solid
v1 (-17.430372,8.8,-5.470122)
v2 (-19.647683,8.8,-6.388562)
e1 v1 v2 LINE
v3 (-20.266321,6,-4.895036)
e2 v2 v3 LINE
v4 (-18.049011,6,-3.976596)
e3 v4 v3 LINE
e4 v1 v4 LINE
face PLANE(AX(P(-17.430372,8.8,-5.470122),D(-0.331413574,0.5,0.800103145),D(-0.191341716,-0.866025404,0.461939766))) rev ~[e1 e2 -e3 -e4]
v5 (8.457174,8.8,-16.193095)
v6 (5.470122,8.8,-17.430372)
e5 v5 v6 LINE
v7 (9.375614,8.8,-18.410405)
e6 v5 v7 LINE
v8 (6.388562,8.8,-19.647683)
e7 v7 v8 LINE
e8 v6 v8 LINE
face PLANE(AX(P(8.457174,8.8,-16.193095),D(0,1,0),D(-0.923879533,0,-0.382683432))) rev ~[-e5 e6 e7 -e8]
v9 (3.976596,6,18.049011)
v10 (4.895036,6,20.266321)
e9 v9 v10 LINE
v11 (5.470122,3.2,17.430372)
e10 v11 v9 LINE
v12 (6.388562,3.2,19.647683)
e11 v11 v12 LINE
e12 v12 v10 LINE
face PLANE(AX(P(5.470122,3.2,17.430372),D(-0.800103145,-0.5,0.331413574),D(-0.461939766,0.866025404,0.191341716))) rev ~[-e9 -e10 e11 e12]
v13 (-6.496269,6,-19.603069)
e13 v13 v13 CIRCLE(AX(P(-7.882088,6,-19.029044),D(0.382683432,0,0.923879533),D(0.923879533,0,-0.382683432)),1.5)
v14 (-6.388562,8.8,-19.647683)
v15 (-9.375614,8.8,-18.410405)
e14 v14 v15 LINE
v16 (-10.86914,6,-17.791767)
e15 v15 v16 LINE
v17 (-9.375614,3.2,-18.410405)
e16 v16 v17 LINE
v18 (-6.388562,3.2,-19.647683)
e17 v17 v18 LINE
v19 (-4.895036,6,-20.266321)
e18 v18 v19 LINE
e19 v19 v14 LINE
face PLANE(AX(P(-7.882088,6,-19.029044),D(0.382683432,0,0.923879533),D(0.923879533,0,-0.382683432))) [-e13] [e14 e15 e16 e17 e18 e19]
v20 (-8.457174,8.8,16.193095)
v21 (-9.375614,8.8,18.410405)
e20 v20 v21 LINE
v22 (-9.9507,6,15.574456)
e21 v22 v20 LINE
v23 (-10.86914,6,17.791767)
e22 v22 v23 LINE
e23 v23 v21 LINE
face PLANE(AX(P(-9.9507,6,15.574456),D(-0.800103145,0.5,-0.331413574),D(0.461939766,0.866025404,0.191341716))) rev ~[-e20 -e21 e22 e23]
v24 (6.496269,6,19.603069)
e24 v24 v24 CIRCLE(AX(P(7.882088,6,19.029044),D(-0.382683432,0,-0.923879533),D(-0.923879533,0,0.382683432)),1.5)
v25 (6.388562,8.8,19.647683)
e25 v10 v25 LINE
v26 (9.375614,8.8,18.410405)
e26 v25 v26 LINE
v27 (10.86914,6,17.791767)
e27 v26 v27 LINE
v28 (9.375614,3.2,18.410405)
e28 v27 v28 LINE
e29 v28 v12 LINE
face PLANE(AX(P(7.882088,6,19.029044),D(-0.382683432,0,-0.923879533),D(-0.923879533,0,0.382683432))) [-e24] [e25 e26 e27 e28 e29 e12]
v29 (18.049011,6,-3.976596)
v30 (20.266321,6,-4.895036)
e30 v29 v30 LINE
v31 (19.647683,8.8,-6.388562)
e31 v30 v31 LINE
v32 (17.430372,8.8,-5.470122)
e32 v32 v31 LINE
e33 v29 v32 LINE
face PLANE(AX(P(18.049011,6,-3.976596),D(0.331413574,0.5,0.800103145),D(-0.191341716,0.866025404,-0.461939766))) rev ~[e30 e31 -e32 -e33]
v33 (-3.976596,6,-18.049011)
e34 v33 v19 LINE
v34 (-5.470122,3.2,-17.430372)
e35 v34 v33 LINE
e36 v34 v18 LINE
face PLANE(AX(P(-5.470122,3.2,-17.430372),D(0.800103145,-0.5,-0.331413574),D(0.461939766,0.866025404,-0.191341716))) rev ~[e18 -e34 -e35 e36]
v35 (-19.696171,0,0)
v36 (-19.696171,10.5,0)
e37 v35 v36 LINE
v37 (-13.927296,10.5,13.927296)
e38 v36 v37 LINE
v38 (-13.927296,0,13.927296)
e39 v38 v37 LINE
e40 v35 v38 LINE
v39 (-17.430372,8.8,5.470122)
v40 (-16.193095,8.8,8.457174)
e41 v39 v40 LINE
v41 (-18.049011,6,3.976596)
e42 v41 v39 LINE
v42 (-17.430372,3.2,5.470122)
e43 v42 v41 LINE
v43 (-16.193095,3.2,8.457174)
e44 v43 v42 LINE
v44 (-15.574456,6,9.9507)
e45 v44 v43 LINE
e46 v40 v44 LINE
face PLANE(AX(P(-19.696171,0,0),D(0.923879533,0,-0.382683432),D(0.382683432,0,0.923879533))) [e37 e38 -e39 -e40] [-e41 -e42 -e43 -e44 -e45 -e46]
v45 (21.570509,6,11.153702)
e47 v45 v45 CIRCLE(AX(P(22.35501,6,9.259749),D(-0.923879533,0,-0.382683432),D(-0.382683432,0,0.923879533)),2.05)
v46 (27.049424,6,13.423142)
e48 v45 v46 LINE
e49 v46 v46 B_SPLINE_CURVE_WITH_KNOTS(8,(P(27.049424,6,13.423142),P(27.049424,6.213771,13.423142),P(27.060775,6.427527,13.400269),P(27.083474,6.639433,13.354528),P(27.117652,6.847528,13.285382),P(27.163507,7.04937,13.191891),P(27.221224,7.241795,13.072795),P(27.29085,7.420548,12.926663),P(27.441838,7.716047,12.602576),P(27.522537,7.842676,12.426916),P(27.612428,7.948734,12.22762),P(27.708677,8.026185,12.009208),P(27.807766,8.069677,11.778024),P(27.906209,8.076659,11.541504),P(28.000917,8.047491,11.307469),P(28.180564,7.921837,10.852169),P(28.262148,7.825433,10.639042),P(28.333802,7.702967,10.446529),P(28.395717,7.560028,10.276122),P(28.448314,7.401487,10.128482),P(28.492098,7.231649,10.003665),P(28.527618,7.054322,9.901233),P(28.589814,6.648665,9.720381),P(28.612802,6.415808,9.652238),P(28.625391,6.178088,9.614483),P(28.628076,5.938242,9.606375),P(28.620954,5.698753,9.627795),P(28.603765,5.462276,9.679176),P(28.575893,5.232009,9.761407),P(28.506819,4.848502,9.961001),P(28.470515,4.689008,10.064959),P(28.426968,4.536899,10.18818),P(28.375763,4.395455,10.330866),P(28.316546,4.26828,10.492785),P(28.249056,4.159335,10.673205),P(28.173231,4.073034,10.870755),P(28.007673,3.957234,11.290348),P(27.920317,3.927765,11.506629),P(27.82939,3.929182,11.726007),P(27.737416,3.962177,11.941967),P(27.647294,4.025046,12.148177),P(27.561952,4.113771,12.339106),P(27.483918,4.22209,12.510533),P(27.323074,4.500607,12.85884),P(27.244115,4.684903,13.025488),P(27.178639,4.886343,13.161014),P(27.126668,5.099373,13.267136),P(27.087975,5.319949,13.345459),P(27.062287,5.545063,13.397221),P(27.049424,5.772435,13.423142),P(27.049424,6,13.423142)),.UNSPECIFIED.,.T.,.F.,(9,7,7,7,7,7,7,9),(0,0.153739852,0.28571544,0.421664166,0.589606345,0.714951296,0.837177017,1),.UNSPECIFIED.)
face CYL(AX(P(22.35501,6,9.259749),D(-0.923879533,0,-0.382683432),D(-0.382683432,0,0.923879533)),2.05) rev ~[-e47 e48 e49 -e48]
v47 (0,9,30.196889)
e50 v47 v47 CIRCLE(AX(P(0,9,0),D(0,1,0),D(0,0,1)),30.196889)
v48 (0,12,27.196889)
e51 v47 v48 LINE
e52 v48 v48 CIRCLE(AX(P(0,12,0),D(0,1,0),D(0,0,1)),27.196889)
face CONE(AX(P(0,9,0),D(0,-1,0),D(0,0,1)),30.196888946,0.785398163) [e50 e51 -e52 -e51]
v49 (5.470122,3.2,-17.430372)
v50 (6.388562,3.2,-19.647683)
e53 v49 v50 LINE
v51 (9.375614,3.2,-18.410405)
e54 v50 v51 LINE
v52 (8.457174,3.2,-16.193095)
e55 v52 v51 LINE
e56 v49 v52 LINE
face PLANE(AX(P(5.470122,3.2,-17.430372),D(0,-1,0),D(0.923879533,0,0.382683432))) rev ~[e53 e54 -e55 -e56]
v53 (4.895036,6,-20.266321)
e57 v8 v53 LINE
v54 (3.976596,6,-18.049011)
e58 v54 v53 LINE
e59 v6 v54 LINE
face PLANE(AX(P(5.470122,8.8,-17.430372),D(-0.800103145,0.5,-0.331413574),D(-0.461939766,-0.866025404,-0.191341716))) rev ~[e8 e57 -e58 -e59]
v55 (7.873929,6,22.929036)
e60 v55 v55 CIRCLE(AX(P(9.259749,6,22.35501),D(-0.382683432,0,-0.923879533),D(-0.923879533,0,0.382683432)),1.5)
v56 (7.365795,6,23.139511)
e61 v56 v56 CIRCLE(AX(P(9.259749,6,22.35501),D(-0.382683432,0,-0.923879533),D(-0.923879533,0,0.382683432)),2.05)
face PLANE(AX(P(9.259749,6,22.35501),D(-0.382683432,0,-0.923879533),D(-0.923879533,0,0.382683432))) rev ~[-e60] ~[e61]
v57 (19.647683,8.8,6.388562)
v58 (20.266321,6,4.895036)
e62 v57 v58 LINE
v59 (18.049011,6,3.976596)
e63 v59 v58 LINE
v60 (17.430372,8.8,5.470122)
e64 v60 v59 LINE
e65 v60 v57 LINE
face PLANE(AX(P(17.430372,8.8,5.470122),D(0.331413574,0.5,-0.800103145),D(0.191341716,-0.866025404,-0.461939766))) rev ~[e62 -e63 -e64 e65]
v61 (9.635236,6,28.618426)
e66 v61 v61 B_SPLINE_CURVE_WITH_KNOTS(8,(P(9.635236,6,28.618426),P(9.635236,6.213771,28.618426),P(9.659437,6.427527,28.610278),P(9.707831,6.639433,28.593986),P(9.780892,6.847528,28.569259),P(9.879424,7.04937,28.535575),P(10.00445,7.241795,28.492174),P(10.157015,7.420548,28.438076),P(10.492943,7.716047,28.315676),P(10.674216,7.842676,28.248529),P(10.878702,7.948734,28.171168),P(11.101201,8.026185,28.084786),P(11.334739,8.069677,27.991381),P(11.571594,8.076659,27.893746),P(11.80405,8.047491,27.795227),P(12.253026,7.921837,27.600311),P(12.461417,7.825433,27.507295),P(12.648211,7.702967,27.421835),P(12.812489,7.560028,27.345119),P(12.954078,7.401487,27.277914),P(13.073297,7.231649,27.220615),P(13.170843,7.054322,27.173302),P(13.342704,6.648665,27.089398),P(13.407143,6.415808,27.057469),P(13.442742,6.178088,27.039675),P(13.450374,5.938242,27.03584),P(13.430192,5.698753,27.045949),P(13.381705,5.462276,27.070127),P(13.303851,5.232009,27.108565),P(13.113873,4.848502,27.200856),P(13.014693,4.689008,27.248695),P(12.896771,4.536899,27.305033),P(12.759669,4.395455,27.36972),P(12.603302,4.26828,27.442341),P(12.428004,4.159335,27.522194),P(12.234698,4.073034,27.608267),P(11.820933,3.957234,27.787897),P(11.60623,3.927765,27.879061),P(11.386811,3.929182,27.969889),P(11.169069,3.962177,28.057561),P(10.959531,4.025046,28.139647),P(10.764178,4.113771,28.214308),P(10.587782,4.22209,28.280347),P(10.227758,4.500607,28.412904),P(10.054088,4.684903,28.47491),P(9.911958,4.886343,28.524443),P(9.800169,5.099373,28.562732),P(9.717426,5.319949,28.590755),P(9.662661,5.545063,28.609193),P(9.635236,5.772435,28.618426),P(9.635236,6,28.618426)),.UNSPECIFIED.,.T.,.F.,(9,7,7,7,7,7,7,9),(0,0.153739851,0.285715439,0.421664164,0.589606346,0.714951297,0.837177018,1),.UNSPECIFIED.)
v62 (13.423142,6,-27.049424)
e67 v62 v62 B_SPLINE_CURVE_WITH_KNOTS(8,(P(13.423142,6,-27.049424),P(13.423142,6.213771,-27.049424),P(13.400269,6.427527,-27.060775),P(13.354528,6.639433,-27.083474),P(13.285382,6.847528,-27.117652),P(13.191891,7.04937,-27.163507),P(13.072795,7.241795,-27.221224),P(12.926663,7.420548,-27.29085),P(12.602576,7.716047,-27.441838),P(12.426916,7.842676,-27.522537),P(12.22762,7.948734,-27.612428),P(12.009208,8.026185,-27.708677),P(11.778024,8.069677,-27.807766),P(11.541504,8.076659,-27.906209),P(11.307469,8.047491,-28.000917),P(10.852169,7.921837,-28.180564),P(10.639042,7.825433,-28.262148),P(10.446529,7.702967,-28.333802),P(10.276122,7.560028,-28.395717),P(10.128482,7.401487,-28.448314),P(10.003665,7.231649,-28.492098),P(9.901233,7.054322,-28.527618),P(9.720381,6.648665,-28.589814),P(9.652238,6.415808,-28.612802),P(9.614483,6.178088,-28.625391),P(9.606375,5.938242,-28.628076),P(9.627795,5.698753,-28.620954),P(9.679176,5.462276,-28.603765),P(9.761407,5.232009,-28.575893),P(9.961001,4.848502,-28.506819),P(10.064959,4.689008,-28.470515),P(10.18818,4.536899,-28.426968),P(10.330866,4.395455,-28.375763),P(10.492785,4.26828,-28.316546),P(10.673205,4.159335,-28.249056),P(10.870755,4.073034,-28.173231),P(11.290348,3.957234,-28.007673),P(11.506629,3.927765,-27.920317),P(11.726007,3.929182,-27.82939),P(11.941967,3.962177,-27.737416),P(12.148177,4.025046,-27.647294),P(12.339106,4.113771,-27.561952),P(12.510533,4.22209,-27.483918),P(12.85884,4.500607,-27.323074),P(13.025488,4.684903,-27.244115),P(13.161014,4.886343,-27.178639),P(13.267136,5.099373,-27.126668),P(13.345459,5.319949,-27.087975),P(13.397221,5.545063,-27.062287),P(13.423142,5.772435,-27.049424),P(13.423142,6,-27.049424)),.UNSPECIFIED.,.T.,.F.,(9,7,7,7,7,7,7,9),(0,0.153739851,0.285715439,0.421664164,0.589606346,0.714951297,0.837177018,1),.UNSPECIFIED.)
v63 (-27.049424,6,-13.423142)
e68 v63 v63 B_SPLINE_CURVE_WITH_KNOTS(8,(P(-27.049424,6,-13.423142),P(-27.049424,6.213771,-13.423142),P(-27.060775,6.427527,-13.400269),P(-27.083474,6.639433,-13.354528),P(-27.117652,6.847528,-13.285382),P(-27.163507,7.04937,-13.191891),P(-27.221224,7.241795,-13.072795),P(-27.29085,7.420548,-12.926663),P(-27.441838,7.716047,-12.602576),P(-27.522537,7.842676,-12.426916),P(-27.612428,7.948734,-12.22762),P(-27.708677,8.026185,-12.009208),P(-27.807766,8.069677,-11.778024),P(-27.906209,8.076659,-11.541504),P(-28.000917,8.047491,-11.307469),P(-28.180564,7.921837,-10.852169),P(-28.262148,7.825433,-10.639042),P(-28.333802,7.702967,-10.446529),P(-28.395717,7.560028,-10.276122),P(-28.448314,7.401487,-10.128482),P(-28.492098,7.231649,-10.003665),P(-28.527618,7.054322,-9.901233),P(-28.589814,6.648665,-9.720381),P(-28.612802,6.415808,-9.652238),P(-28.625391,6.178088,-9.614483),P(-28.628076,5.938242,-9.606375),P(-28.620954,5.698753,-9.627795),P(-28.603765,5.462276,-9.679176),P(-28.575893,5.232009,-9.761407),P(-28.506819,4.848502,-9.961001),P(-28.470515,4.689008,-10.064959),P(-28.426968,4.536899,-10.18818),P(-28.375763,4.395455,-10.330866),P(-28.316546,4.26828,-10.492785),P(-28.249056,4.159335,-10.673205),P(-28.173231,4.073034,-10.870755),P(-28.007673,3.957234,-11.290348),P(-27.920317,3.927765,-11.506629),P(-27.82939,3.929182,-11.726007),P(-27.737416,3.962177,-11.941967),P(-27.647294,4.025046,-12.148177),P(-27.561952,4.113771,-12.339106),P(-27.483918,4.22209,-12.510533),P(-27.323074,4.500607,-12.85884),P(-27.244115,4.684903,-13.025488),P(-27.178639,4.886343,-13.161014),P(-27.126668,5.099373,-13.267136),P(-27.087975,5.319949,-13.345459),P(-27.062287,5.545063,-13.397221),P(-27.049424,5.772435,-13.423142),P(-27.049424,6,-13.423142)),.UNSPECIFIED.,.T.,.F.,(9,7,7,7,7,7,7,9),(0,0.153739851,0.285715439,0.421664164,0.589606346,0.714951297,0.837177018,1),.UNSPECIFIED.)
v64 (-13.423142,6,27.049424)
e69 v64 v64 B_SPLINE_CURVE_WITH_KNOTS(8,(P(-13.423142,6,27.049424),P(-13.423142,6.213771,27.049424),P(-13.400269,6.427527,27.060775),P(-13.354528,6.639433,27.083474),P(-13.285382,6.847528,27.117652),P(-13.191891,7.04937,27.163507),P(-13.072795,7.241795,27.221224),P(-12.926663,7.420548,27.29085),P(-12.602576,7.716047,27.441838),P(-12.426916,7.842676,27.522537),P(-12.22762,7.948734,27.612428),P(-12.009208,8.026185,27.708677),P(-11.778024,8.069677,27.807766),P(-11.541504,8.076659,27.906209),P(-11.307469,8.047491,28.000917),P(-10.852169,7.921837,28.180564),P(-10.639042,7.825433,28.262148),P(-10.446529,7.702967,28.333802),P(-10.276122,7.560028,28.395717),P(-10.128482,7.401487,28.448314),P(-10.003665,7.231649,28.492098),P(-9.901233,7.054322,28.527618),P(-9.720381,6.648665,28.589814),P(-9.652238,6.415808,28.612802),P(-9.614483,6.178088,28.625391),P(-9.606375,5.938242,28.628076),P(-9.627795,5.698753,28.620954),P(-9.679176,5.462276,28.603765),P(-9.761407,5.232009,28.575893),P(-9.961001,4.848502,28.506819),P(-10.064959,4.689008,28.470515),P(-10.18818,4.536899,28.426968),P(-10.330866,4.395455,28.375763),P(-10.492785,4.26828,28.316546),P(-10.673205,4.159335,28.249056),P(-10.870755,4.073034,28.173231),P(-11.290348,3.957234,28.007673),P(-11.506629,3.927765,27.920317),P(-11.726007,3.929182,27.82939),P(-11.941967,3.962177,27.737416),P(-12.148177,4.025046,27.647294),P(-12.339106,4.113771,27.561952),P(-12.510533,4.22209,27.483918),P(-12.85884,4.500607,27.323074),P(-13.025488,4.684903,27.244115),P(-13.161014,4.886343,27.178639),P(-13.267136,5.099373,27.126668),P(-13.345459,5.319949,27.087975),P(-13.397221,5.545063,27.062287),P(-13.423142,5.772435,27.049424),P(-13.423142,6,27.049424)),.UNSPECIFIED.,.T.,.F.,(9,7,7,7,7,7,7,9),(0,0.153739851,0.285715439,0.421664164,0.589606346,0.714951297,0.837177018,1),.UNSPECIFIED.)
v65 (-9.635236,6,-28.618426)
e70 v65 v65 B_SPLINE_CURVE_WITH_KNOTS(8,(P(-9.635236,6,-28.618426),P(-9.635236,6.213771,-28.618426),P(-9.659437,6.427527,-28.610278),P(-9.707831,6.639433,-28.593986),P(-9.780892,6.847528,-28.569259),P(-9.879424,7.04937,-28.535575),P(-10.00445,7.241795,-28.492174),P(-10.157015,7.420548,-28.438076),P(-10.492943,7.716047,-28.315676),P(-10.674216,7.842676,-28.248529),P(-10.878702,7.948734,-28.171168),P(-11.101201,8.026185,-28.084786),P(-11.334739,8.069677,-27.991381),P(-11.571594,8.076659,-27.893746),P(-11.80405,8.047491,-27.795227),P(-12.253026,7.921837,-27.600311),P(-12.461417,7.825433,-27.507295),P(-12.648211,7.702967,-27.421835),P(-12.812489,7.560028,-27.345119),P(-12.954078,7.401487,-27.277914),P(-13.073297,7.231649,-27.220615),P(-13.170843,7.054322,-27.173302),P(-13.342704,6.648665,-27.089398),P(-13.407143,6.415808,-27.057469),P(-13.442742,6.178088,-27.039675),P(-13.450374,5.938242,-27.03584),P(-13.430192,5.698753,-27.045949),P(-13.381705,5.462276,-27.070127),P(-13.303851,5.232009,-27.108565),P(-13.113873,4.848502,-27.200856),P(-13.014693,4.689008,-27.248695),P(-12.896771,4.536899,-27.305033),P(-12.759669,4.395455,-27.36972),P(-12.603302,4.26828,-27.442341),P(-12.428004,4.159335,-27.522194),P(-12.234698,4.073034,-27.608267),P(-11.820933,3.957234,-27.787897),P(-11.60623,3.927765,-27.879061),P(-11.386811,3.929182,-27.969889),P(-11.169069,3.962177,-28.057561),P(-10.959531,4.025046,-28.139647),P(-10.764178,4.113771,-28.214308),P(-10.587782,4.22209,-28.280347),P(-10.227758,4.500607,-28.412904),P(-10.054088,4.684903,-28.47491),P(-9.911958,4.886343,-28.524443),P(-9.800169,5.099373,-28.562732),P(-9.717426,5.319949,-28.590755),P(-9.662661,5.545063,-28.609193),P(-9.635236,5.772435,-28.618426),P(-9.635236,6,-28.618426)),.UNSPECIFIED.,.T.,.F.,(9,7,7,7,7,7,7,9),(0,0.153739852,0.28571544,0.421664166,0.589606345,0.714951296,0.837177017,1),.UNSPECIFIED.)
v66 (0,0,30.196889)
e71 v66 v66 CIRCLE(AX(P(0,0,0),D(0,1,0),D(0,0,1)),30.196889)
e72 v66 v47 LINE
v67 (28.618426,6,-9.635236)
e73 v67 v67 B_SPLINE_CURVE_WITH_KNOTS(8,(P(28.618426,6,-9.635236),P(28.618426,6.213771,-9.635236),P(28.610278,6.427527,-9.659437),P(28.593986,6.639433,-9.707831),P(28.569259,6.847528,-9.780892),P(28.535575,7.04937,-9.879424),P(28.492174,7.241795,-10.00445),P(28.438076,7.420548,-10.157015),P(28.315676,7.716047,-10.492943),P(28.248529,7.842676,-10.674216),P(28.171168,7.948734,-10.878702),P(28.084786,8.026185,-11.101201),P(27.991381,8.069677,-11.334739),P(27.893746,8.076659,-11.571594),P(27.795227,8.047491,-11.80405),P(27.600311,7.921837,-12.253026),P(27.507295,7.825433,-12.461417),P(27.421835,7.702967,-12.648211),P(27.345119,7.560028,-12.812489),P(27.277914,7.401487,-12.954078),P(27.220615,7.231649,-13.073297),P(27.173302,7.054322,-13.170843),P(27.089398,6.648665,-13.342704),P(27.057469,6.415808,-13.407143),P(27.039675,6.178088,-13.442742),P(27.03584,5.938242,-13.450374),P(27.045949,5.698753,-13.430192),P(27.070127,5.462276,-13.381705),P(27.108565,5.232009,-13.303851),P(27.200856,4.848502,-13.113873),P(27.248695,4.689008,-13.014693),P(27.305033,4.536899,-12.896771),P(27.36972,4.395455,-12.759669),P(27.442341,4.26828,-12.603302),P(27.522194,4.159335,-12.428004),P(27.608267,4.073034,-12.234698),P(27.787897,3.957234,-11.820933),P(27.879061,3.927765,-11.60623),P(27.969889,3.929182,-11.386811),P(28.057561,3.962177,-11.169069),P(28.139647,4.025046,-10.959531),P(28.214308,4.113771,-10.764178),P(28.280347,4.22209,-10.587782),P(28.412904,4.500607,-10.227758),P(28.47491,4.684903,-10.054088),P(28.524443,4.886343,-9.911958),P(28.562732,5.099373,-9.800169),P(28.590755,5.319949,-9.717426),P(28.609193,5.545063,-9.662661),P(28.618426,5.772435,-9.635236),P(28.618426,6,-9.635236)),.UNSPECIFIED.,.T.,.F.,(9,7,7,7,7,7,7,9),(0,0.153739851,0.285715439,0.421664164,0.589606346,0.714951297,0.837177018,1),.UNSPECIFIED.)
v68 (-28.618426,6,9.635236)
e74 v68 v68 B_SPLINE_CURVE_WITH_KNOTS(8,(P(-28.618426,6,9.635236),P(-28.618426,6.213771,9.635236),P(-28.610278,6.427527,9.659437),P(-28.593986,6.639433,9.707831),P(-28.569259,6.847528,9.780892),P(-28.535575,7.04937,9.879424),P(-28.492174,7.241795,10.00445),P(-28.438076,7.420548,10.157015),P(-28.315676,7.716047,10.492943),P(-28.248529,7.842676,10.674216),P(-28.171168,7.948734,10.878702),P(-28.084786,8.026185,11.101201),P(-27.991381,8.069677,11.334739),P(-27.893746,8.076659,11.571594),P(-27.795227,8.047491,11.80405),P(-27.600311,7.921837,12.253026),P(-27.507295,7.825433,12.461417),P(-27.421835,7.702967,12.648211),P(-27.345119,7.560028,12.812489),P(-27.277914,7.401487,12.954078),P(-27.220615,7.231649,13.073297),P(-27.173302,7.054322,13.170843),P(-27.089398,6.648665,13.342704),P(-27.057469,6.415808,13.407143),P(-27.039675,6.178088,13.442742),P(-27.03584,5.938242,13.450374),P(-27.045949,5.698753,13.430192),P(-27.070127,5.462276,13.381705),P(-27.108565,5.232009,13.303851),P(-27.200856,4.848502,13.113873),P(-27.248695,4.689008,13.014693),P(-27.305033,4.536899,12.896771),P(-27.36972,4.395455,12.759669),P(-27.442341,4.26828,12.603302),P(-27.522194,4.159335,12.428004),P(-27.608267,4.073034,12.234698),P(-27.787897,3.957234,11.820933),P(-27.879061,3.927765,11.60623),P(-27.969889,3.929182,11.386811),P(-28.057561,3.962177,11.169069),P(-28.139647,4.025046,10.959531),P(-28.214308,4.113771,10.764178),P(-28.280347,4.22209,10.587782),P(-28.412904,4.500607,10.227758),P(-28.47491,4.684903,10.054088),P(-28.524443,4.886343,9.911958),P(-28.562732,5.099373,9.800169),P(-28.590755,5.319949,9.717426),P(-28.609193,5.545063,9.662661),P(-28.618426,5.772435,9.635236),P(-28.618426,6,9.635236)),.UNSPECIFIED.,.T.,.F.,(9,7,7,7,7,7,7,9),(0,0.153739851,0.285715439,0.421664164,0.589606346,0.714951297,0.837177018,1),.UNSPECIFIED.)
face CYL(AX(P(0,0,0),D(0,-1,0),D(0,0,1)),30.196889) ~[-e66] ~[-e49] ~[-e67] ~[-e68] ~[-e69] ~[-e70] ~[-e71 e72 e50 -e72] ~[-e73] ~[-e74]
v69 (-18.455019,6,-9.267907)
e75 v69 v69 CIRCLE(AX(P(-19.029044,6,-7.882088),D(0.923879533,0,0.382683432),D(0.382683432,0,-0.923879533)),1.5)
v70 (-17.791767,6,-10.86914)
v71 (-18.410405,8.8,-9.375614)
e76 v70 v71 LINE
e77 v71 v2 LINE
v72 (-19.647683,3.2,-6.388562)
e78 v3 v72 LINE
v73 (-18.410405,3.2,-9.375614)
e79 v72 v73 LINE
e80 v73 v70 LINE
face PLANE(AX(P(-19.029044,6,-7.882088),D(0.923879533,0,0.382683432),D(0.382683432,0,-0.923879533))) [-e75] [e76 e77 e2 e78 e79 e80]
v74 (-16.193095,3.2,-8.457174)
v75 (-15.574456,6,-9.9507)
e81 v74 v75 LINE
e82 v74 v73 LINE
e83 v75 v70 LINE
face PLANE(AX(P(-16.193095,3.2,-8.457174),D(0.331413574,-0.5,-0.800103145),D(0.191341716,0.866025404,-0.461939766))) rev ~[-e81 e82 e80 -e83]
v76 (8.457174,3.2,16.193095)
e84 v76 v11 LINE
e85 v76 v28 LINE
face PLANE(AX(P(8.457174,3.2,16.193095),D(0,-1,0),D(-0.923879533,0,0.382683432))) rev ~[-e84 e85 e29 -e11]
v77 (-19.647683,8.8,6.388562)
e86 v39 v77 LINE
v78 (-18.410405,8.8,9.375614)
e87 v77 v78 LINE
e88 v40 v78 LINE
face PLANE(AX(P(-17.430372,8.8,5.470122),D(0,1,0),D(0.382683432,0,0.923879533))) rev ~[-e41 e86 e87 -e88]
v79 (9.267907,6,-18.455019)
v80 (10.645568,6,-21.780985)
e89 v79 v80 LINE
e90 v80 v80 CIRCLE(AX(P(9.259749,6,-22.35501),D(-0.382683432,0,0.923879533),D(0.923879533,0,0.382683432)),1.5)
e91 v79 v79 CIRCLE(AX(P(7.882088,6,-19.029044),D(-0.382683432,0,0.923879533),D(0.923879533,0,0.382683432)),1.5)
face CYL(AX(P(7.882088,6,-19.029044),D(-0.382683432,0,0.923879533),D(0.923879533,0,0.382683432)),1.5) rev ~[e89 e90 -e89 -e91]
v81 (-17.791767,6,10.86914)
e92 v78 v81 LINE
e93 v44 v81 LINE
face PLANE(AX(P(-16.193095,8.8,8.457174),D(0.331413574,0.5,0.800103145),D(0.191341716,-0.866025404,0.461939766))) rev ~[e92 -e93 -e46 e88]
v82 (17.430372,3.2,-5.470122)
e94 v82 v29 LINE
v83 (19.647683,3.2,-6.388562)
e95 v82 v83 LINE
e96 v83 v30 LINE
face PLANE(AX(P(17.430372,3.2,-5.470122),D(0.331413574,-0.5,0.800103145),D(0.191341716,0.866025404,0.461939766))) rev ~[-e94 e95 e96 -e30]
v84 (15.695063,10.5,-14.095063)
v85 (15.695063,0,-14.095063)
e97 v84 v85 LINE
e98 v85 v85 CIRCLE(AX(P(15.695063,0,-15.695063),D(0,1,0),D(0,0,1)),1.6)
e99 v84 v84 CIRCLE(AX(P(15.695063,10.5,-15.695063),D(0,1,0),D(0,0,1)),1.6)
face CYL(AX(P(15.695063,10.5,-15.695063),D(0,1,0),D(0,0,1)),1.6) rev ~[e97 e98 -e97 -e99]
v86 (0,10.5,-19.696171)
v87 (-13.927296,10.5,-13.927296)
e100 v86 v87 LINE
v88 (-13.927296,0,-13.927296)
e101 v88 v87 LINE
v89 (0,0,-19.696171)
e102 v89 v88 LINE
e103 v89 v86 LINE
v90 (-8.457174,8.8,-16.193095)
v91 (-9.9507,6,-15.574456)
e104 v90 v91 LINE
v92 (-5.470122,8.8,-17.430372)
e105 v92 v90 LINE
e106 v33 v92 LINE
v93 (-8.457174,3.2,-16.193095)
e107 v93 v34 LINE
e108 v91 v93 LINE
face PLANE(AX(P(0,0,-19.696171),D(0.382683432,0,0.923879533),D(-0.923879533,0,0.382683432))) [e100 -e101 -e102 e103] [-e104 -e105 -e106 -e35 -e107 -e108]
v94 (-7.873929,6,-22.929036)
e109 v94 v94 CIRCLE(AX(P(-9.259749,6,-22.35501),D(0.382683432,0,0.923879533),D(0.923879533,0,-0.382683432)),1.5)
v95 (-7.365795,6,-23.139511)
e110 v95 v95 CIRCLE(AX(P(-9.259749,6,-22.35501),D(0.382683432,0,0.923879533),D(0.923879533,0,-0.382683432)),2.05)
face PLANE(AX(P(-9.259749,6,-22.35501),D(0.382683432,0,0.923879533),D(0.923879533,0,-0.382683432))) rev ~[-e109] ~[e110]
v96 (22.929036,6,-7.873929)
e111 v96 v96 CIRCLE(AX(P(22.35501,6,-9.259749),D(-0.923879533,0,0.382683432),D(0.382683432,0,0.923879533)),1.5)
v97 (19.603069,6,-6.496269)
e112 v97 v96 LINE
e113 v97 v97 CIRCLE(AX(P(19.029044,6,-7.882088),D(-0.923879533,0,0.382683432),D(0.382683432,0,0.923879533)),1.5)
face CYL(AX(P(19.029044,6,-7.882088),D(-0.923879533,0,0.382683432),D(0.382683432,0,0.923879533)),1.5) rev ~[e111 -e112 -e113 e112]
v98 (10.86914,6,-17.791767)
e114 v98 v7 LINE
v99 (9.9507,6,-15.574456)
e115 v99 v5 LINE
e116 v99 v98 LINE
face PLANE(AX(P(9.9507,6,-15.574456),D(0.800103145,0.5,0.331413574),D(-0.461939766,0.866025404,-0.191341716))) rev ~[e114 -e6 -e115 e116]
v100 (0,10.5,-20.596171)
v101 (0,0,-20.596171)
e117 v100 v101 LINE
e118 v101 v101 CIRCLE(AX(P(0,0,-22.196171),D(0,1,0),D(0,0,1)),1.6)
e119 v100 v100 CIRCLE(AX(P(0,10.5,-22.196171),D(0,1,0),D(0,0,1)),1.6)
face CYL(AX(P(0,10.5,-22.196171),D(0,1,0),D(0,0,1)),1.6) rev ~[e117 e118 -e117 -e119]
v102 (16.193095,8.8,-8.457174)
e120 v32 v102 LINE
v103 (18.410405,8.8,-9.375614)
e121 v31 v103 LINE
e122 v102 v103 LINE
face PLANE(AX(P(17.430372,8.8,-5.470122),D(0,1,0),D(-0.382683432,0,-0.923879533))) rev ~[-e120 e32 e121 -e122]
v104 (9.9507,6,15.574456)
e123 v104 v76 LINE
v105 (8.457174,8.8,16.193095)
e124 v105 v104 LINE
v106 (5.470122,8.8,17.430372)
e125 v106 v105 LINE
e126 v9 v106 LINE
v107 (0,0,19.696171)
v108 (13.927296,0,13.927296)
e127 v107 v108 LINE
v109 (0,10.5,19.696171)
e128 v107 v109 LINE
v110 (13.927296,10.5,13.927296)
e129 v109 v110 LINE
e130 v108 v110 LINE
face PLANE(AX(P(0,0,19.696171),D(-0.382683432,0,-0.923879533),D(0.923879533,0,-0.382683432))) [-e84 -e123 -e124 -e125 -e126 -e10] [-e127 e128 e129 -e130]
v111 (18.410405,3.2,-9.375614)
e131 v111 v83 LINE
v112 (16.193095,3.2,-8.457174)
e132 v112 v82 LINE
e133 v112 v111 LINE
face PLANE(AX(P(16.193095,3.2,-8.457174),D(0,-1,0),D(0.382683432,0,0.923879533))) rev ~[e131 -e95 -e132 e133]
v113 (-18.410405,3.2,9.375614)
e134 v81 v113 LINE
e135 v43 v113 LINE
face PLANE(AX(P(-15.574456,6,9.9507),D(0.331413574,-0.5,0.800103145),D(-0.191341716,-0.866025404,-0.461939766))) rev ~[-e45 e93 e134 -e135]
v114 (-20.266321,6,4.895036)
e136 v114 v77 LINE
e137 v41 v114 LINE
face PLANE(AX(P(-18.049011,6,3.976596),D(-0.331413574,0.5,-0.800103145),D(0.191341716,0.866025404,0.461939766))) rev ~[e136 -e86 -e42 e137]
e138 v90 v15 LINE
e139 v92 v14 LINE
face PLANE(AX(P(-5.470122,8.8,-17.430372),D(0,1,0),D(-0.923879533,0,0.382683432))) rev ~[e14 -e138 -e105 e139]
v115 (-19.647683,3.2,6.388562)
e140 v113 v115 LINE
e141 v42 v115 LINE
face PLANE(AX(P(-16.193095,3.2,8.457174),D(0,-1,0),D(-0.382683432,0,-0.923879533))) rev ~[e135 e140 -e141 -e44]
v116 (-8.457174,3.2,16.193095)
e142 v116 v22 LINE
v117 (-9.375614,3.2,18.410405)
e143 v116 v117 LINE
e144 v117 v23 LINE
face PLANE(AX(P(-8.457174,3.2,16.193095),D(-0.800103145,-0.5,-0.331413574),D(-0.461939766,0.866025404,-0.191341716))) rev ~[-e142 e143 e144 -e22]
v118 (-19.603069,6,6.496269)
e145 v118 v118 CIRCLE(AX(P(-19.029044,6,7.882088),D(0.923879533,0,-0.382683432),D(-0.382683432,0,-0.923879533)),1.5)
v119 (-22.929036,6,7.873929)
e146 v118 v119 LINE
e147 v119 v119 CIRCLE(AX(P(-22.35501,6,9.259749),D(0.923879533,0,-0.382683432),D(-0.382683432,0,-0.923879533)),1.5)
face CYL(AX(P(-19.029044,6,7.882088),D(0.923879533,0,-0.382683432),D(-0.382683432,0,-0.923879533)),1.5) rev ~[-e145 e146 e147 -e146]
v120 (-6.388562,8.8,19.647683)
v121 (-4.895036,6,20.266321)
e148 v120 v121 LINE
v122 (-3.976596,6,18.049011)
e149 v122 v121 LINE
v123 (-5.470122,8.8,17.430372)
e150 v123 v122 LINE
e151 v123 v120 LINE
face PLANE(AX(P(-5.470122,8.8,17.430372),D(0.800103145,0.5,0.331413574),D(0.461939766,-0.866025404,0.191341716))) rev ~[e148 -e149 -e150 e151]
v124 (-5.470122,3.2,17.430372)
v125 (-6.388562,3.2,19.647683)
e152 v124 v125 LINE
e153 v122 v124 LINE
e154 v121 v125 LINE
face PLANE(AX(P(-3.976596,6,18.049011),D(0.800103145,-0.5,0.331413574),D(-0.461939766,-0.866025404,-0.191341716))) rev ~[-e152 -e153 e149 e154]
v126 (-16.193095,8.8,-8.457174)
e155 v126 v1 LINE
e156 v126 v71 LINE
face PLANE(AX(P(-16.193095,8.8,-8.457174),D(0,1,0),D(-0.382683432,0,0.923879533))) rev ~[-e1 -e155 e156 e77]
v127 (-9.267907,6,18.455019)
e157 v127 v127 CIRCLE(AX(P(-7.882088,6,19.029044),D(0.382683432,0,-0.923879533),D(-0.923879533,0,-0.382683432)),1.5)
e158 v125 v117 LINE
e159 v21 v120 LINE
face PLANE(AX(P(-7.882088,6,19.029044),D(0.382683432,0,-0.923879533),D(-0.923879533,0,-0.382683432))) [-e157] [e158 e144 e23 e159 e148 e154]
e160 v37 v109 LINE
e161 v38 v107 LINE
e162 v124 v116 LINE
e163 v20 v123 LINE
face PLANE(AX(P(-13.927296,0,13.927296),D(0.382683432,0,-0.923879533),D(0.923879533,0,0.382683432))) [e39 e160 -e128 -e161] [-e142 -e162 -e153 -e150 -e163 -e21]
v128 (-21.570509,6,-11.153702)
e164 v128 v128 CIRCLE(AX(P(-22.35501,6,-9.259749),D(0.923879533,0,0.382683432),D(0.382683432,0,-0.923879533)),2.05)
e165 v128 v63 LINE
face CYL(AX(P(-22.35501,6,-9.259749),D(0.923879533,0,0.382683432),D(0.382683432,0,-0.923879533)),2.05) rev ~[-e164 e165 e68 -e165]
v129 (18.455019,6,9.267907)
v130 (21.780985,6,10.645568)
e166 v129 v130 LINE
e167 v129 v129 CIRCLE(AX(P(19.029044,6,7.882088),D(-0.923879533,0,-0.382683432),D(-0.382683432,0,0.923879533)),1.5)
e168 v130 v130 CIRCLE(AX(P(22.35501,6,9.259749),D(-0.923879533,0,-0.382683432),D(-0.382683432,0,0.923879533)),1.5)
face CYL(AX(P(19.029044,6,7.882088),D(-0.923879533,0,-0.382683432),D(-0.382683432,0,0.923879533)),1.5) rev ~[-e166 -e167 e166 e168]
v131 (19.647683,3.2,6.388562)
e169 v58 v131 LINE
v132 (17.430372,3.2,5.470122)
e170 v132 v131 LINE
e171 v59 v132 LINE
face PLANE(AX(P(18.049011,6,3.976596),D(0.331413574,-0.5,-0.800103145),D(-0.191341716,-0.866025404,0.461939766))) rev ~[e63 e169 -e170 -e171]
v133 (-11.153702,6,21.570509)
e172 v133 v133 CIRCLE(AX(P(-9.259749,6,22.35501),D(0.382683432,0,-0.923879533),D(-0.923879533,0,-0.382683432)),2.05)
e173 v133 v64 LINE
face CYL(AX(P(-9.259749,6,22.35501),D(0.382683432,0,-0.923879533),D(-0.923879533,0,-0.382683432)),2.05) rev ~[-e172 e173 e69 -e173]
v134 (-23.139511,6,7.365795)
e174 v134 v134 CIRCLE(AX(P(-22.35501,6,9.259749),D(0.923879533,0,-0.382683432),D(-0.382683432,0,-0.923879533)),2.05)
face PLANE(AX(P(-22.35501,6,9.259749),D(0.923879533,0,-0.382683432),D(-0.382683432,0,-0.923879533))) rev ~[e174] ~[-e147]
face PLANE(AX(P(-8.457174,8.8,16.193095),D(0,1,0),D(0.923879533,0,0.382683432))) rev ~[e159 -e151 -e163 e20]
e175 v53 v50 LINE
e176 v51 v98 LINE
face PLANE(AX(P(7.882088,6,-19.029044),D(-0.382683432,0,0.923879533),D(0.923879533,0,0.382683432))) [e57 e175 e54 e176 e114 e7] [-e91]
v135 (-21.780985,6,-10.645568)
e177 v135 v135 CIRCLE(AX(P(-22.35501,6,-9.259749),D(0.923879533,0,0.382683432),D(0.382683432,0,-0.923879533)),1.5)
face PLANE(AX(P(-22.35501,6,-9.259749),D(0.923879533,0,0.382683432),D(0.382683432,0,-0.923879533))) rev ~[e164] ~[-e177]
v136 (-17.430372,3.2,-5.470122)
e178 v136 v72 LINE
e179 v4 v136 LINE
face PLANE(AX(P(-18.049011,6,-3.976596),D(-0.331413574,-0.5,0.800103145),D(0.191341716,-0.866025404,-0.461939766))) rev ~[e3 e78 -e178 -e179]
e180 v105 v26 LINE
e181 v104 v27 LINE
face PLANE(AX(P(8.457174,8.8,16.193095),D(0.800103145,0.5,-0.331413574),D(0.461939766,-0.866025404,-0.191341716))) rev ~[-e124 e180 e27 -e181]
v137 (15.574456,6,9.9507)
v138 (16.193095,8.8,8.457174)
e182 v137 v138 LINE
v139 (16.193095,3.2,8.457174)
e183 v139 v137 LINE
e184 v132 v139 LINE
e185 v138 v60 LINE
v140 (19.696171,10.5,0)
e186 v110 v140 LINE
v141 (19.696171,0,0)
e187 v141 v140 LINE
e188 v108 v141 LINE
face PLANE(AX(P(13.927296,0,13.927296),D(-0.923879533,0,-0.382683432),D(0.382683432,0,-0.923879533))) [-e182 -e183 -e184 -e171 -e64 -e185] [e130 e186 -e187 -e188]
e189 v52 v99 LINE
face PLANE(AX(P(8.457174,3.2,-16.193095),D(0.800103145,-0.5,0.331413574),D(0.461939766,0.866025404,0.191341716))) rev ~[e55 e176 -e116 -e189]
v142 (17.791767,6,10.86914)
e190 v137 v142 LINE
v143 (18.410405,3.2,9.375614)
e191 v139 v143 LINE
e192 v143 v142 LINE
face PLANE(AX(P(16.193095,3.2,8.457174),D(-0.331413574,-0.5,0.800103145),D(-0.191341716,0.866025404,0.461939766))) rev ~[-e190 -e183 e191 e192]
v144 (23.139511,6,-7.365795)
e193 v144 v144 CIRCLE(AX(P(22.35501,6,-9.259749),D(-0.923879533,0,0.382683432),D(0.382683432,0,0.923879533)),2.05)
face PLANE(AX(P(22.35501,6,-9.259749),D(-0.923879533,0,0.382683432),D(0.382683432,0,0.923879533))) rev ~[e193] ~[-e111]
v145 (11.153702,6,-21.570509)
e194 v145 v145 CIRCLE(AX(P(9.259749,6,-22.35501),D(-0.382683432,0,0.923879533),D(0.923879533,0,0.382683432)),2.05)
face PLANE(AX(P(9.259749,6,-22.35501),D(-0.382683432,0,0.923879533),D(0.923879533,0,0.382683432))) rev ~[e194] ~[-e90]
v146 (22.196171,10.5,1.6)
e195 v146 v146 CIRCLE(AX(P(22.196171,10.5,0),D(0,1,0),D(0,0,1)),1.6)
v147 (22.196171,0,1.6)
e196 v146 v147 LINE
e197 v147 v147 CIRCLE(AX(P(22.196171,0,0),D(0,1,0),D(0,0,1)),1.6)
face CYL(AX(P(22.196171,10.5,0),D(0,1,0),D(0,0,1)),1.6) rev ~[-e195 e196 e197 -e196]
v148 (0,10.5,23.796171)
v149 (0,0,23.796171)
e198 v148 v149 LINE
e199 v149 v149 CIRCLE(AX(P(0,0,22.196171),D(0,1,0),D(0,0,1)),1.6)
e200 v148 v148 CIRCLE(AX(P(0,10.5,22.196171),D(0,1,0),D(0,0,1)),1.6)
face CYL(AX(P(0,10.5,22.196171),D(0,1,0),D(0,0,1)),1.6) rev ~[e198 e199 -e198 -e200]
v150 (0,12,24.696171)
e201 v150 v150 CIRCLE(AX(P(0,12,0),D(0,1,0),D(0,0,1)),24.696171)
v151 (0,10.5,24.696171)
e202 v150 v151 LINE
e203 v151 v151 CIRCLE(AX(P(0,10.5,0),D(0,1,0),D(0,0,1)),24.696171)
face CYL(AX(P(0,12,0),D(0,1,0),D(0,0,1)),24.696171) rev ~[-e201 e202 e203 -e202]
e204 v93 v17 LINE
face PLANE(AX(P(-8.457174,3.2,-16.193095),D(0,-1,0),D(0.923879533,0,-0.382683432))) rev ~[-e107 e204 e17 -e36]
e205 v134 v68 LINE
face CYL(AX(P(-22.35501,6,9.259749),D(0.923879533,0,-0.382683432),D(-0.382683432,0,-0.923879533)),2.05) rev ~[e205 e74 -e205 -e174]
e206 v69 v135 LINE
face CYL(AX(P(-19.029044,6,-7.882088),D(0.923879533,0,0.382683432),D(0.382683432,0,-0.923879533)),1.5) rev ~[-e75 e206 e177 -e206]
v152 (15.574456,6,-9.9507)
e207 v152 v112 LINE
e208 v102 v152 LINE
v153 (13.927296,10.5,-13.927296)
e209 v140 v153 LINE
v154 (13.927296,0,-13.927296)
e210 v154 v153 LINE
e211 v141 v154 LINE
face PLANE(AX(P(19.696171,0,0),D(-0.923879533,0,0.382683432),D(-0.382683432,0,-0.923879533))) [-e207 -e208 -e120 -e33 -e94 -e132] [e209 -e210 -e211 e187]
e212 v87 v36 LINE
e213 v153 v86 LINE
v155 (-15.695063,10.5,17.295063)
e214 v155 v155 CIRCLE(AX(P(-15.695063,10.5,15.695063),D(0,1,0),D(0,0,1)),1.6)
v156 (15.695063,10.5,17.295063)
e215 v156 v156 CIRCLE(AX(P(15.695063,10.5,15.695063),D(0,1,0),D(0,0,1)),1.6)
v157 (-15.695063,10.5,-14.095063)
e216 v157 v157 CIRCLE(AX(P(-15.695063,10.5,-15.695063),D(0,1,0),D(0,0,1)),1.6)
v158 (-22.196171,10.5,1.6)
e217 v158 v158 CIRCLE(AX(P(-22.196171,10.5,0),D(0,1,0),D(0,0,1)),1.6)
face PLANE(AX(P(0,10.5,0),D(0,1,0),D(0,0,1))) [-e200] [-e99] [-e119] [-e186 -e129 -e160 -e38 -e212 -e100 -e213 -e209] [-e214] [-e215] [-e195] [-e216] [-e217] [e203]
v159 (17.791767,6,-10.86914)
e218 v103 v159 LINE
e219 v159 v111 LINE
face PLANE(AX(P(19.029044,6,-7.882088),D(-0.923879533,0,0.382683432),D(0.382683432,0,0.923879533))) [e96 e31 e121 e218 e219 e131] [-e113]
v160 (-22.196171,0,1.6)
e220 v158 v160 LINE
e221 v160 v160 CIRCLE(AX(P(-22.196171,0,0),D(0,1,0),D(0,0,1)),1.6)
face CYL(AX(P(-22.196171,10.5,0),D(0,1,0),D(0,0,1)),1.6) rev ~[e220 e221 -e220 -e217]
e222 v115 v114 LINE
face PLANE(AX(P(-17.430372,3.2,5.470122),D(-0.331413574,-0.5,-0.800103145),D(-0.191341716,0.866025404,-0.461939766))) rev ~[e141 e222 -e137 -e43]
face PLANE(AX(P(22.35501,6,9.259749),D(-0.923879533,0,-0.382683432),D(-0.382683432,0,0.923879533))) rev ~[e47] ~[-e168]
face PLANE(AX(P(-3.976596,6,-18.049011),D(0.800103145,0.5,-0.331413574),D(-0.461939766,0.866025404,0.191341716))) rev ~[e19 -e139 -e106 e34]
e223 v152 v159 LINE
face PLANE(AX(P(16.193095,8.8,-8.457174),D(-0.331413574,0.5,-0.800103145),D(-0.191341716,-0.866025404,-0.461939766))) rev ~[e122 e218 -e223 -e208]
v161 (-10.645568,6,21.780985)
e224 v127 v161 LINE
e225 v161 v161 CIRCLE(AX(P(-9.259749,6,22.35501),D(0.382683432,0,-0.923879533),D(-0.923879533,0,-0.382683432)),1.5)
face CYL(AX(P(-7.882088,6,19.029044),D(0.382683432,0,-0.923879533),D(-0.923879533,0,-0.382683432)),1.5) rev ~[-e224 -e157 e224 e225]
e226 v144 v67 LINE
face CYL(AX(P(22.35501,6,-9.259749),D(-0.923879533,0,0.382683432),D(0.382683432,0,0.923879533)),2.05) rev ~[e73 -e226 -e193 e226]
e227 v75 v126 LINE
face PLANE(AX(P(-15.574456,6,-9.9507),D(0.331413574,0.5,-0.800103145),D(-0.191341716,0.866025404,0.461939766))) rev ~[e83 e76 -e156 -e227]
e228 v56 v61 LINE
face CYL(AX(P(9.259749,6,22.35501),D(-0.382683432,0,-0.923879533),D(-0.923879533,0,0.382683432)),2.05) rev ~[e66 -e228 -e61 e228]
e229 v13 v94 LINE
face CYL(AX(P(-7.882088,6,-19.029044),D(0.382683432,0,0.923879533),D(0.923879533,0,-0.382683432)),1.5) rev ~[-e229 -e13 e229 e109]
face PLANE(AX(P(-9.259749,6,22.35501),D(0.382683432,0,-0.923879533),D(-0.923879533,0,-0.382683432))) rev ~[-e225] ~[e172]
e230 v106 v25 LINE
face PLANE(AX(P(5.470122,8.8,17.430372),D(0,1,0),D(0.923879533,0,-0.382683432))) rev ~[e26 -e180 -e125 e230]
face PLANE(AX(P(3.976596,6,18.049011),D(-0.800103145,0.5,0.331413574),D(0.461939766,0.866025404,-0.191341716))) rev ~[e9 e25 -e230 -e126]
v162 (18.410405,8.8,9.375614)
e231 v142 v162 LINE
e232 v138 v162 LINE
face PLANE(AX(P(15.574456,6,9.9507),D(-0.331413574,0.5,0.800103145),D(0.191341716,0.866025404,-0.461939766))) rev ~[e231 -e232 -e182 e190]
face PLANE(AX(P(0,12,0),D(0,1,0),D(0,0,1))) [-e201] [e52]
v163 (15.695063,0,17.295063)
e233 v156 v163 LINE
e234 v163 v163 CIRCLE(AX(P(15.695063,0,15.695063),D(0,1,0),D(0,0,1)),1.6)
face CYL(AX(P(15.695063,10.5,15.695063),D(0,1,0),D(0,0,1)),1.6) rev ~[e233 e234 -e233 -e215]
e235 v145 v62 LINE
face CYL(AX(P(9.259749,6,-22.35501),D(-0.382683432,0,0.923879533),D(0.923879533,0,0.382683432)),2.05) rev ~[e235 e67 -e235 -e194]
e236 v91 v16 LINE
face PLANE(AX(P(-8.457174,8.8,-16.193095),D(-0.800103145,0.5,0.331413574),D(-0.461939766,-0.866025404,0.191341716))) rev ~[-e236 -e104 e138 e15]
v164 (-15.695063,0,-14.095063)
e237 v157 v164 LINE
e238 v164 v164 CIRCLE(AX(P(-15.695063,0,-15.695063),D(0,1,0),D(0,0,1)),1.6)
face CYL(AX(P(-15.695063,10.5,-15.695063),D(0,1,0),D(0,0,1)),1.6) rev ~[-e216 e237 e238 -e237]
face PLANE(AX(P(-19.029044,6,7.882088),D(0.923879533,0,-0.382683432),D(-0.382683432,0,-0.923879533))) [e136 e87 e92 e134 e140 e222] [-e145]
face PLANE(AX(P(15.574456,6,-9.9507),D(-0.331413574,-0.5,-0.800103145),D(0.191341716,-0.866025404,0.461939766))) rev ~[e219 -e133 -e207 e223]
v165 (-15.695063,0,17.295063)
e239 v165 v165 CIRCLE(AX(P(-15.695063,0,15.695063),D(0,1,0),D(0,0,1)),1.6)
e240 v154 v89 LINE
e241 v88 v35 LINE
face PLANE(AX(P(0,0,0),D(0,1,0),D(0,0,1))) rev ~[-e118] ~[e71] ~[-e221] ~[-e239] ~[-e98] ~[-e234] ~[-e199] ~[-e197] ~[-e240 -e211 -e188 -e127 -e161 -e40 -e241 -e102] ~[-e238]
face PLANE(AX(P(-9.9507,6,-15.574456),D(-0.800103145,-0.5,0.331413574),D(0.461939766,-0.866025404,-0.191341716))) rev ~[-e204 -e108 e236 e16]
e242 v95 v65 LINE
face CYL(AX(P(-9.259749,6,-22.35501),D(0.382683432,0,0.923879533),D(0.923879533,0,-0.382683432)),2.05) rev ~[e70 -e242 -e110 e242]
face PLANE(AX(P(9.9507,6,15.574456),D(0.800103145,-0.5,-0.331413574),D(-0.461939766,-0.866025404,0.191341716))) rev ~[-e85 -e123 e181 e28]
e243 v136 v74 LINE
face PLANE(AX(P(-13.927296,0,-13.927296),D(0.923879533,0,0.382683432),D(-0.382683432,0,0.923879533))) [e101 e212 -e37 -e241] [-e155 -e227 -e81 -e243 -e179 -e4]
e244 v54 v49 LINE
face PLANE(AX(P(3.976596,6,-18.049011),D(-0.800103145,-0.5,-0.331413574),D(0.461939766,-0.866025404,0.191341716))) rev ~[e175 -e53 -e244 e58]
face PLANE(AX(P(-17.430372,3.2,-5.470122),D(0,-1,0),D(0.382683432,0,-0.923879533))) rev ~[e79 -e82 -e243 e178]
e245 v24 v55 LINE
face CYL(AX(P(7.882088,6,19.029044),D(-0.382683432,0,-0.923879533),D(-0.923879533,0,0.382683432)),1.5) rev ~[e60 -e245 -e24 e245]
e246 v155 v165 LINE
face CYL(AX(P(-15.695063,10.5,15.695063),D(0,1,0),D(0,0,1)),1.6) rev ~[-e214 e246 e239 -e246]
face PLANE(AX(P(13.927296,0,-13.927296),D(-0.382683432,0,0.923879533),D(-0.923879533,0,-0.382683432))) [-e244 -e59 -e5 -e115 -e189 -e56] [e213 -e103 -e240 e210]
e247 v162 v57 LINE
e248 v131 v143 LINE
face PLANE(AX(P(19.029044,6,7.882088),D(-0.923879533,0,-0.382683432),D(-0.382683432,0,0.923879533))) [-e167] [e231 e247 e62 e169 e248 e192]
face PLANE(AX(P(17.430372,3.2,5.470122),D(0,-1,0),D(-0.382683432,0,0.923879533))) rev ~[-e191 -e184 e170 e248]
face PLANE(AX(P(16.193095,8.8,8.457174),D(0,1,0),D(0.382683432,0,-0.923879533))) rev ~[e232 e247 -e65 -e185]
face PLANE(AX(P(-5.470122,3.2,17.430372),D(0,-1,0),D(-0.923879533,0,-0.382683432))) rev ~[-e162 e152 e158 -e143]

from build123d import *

# Parameters (mm, degrees)
SKETCH_1_R                = 30.196888946
EXTRUDE_1_DEPTH           = 12
CUT_EXTRUDE_1_DEPTH       = 2.4
SKETCH_3_R                = 1.5
CUT_EXTRUDE_2_DEPTH       = 3.6
SKETCH_6_R                = 2.05
CUT_EXTRUDE_3_DEPTH       = 67.802158421
PATTERN_CIRCULAR_25_COUNT = 8
CHAMFER_1_SIZE            = 3
SKETCH_7_R                = 24.696170665
CUT_EXTRUDE_4_DEPTH       = 1.5
SKETCH_8_R                = 1.6
CUT_EXTRUDE_5_DEPTH       = 44.976746335


with BuildPart() as part:
    # 草图1 → 凸台-拉伸1 (new body)
    with BuildSketch(Plane(origin=(0, 0, 0), x_dir=(1, 0, 0), z_dir=(0, 1, 0))):
        with Locations(Location((0, 0, 0), (0, 0, 270))):
            Circle(SKETCH_1_R)
        Polygon((13.927295841, 13.927295841), (0, 19.696170665), (-13.927295841, 13.927295841), (-19.696170665, 0), (-13.927295841, -13.927295841), (0, -19.696170665), (13.927295841, -13.927295841), (19.696170665, 0), align=None, mode=Mode.SUBTRACT)
    extrude(amount=EXTRUDE_1_DEPTH)

    # 草图2 → 切除-拉伸1 (cut)
    with BuildSketch(Plane(origin=(6.96364792, 0, -16.811733253), x_dir=(0.9238795325112867, 0, 0.38268343236508984), z_dir=(-0.38268343236508984, 0, 0.9238795325112867))):
        Polygon((3.233161507, 6), (1.616580754, 8.8), (-1.616580754, 8.8), (-3.233161507, 6), (-1.616580754, 3.2), (1.616580754, 3.2), align=None)
    cut_extrude_1 = extrude(amount=-CUT_EXTRUDE_1_DEPTH, mode=Mode.SUBTRACT)

    # 草图3 → 切除-拉伸2 (cut)
    with BuildSketch(Plane(origin=(7.882088158, 0, -19.029044131), x_dir=(0.9238795325112867, 0, 0.3826834323650899), z_dir=(-0.3826834323650899, 0, 0.9238795325112867))):
        with Locations((0, 6)):
            Circle(SKETCH_3_R)
    cut_extrude_2 = extrude(amount=-CUT_EXTRUDE_2_DEPTH, mode=Mode.SUBTRACT)

    # 草图6 → 切除-拉伸3 (cut, through all)
    with BuildSketch(Plane(origin=(9.259748515, 0, -22.355010448), x_dir=(0.923879532511287, 0, 0.38268343236508945), z_dir=(-0.38268343236508945, 0, 0.923879532511287))):
        with Locations((0, 6)):
            Circle(SKETCH_6_R)
    cut_extrude_3 = extrude(amount=-CUT_EXTRUDE_3_DEPTH, mode=Mode.SUBTRACT)

    # 阵列(圆周)25: 切除-拉伸1, 切除-拉伸2, 切除-拉伸3 ×8 about axis
    pattern_circular_25_axis = Axis((0, 0, 0), (0, 1, 0))
    add([cut_extrude_1.rotate(pattern_circular_25_axis, i * 360 / PATTERN_CIRCULAR_25_COUNT) for i in range(1, PATTERN_CIRCULAR_25_COUNT)], mode=Mode.SUBTRACT)
    add([cut_extrude_2.rotate(pattern_circular_25_axis, i * 360 / PATTERN_CIRCULAR_25_COUNT) for i in range(1, PATTERN_CIRCULAR_25_COUNT)], mode=Mode.SUBTRACT)
    add([cut_extrude_3.rotate(pattern_circular_25_axis, i * 360 / PATTERN_CIRCULAR_25_COUNT) for i in range(1, PATTERN_CIRCULAR_25_COUNT)], mode=Mode.SUBTRACT)

    # 倒角1
    chamfer_1_edges = [part.edges().sort_by_distance(p)[0] for p in [
        (0, 12, -30.196888946),
    ]]
    chamfer(chamfer_1_edges, length=CHAMFER_1_SIZE)

    # 草图7 → 切除-拉伸4 (cut)
    with BuildSketch(Plane(origin=(0, 12, 0), x_dir=(1, 0, 0), z_dir=(0, 1, 0))):
        with Locations(Location((0, 0, 0), (0, 0, 270))):
            Circle(SKETCH_7_R)
    extrude(amount=-CUT_EXTRUDE_4_DEPTH, mode=Mode.SUBTRACT)

    # 草图8 → 切除-拉伸5 (cut, through all)
    with BuildSketch(Plane(origin=(0, 10.5, 0), x_dir=(1, 0, 0), z_dir=(0, 1, 0))):
        with Locations(Location((0, 22.196170665, 0), (0, 0, 270))):
            Circle(SKETCH_8_R)
        with Locations(Location((15.695062794, 15.695062794, 0), (0, 0, 270))):
            Circle(SKETCH_8_R)
        with Locations(Location((22.196170665, 0, 0), (0, 0, 270))):
            Circle(SKETCH_8_R)
        with Locations(Location((15.695062794, -15.695062794, 0), (0, 0, 270))):
            Circle(SKETCH_8_R)
        with Locations(Location((0, -22.196170665, 0), (0, 0, 270))):
            Circle(SKETCH_8_R)
        with Locations(Location((-15.695062794, -15.695062794, 0), (0, 0, 270))):
            Circle(SKETCH_8_R)
        with Locations(Location((-22.196170665, 0, 0), (0, 0, 270))):
            Circle(SKETCH_8_R)
        with Locations(Location((-15.695062794, 15.695062794, 0), (0, 0, 270))):
            Circle(SKETCH_8_R)
    extrude(amount=-CUT_EXTRUDE_5_DEPTH, mode=Mode.SUBTRACT)


solid = part.part
